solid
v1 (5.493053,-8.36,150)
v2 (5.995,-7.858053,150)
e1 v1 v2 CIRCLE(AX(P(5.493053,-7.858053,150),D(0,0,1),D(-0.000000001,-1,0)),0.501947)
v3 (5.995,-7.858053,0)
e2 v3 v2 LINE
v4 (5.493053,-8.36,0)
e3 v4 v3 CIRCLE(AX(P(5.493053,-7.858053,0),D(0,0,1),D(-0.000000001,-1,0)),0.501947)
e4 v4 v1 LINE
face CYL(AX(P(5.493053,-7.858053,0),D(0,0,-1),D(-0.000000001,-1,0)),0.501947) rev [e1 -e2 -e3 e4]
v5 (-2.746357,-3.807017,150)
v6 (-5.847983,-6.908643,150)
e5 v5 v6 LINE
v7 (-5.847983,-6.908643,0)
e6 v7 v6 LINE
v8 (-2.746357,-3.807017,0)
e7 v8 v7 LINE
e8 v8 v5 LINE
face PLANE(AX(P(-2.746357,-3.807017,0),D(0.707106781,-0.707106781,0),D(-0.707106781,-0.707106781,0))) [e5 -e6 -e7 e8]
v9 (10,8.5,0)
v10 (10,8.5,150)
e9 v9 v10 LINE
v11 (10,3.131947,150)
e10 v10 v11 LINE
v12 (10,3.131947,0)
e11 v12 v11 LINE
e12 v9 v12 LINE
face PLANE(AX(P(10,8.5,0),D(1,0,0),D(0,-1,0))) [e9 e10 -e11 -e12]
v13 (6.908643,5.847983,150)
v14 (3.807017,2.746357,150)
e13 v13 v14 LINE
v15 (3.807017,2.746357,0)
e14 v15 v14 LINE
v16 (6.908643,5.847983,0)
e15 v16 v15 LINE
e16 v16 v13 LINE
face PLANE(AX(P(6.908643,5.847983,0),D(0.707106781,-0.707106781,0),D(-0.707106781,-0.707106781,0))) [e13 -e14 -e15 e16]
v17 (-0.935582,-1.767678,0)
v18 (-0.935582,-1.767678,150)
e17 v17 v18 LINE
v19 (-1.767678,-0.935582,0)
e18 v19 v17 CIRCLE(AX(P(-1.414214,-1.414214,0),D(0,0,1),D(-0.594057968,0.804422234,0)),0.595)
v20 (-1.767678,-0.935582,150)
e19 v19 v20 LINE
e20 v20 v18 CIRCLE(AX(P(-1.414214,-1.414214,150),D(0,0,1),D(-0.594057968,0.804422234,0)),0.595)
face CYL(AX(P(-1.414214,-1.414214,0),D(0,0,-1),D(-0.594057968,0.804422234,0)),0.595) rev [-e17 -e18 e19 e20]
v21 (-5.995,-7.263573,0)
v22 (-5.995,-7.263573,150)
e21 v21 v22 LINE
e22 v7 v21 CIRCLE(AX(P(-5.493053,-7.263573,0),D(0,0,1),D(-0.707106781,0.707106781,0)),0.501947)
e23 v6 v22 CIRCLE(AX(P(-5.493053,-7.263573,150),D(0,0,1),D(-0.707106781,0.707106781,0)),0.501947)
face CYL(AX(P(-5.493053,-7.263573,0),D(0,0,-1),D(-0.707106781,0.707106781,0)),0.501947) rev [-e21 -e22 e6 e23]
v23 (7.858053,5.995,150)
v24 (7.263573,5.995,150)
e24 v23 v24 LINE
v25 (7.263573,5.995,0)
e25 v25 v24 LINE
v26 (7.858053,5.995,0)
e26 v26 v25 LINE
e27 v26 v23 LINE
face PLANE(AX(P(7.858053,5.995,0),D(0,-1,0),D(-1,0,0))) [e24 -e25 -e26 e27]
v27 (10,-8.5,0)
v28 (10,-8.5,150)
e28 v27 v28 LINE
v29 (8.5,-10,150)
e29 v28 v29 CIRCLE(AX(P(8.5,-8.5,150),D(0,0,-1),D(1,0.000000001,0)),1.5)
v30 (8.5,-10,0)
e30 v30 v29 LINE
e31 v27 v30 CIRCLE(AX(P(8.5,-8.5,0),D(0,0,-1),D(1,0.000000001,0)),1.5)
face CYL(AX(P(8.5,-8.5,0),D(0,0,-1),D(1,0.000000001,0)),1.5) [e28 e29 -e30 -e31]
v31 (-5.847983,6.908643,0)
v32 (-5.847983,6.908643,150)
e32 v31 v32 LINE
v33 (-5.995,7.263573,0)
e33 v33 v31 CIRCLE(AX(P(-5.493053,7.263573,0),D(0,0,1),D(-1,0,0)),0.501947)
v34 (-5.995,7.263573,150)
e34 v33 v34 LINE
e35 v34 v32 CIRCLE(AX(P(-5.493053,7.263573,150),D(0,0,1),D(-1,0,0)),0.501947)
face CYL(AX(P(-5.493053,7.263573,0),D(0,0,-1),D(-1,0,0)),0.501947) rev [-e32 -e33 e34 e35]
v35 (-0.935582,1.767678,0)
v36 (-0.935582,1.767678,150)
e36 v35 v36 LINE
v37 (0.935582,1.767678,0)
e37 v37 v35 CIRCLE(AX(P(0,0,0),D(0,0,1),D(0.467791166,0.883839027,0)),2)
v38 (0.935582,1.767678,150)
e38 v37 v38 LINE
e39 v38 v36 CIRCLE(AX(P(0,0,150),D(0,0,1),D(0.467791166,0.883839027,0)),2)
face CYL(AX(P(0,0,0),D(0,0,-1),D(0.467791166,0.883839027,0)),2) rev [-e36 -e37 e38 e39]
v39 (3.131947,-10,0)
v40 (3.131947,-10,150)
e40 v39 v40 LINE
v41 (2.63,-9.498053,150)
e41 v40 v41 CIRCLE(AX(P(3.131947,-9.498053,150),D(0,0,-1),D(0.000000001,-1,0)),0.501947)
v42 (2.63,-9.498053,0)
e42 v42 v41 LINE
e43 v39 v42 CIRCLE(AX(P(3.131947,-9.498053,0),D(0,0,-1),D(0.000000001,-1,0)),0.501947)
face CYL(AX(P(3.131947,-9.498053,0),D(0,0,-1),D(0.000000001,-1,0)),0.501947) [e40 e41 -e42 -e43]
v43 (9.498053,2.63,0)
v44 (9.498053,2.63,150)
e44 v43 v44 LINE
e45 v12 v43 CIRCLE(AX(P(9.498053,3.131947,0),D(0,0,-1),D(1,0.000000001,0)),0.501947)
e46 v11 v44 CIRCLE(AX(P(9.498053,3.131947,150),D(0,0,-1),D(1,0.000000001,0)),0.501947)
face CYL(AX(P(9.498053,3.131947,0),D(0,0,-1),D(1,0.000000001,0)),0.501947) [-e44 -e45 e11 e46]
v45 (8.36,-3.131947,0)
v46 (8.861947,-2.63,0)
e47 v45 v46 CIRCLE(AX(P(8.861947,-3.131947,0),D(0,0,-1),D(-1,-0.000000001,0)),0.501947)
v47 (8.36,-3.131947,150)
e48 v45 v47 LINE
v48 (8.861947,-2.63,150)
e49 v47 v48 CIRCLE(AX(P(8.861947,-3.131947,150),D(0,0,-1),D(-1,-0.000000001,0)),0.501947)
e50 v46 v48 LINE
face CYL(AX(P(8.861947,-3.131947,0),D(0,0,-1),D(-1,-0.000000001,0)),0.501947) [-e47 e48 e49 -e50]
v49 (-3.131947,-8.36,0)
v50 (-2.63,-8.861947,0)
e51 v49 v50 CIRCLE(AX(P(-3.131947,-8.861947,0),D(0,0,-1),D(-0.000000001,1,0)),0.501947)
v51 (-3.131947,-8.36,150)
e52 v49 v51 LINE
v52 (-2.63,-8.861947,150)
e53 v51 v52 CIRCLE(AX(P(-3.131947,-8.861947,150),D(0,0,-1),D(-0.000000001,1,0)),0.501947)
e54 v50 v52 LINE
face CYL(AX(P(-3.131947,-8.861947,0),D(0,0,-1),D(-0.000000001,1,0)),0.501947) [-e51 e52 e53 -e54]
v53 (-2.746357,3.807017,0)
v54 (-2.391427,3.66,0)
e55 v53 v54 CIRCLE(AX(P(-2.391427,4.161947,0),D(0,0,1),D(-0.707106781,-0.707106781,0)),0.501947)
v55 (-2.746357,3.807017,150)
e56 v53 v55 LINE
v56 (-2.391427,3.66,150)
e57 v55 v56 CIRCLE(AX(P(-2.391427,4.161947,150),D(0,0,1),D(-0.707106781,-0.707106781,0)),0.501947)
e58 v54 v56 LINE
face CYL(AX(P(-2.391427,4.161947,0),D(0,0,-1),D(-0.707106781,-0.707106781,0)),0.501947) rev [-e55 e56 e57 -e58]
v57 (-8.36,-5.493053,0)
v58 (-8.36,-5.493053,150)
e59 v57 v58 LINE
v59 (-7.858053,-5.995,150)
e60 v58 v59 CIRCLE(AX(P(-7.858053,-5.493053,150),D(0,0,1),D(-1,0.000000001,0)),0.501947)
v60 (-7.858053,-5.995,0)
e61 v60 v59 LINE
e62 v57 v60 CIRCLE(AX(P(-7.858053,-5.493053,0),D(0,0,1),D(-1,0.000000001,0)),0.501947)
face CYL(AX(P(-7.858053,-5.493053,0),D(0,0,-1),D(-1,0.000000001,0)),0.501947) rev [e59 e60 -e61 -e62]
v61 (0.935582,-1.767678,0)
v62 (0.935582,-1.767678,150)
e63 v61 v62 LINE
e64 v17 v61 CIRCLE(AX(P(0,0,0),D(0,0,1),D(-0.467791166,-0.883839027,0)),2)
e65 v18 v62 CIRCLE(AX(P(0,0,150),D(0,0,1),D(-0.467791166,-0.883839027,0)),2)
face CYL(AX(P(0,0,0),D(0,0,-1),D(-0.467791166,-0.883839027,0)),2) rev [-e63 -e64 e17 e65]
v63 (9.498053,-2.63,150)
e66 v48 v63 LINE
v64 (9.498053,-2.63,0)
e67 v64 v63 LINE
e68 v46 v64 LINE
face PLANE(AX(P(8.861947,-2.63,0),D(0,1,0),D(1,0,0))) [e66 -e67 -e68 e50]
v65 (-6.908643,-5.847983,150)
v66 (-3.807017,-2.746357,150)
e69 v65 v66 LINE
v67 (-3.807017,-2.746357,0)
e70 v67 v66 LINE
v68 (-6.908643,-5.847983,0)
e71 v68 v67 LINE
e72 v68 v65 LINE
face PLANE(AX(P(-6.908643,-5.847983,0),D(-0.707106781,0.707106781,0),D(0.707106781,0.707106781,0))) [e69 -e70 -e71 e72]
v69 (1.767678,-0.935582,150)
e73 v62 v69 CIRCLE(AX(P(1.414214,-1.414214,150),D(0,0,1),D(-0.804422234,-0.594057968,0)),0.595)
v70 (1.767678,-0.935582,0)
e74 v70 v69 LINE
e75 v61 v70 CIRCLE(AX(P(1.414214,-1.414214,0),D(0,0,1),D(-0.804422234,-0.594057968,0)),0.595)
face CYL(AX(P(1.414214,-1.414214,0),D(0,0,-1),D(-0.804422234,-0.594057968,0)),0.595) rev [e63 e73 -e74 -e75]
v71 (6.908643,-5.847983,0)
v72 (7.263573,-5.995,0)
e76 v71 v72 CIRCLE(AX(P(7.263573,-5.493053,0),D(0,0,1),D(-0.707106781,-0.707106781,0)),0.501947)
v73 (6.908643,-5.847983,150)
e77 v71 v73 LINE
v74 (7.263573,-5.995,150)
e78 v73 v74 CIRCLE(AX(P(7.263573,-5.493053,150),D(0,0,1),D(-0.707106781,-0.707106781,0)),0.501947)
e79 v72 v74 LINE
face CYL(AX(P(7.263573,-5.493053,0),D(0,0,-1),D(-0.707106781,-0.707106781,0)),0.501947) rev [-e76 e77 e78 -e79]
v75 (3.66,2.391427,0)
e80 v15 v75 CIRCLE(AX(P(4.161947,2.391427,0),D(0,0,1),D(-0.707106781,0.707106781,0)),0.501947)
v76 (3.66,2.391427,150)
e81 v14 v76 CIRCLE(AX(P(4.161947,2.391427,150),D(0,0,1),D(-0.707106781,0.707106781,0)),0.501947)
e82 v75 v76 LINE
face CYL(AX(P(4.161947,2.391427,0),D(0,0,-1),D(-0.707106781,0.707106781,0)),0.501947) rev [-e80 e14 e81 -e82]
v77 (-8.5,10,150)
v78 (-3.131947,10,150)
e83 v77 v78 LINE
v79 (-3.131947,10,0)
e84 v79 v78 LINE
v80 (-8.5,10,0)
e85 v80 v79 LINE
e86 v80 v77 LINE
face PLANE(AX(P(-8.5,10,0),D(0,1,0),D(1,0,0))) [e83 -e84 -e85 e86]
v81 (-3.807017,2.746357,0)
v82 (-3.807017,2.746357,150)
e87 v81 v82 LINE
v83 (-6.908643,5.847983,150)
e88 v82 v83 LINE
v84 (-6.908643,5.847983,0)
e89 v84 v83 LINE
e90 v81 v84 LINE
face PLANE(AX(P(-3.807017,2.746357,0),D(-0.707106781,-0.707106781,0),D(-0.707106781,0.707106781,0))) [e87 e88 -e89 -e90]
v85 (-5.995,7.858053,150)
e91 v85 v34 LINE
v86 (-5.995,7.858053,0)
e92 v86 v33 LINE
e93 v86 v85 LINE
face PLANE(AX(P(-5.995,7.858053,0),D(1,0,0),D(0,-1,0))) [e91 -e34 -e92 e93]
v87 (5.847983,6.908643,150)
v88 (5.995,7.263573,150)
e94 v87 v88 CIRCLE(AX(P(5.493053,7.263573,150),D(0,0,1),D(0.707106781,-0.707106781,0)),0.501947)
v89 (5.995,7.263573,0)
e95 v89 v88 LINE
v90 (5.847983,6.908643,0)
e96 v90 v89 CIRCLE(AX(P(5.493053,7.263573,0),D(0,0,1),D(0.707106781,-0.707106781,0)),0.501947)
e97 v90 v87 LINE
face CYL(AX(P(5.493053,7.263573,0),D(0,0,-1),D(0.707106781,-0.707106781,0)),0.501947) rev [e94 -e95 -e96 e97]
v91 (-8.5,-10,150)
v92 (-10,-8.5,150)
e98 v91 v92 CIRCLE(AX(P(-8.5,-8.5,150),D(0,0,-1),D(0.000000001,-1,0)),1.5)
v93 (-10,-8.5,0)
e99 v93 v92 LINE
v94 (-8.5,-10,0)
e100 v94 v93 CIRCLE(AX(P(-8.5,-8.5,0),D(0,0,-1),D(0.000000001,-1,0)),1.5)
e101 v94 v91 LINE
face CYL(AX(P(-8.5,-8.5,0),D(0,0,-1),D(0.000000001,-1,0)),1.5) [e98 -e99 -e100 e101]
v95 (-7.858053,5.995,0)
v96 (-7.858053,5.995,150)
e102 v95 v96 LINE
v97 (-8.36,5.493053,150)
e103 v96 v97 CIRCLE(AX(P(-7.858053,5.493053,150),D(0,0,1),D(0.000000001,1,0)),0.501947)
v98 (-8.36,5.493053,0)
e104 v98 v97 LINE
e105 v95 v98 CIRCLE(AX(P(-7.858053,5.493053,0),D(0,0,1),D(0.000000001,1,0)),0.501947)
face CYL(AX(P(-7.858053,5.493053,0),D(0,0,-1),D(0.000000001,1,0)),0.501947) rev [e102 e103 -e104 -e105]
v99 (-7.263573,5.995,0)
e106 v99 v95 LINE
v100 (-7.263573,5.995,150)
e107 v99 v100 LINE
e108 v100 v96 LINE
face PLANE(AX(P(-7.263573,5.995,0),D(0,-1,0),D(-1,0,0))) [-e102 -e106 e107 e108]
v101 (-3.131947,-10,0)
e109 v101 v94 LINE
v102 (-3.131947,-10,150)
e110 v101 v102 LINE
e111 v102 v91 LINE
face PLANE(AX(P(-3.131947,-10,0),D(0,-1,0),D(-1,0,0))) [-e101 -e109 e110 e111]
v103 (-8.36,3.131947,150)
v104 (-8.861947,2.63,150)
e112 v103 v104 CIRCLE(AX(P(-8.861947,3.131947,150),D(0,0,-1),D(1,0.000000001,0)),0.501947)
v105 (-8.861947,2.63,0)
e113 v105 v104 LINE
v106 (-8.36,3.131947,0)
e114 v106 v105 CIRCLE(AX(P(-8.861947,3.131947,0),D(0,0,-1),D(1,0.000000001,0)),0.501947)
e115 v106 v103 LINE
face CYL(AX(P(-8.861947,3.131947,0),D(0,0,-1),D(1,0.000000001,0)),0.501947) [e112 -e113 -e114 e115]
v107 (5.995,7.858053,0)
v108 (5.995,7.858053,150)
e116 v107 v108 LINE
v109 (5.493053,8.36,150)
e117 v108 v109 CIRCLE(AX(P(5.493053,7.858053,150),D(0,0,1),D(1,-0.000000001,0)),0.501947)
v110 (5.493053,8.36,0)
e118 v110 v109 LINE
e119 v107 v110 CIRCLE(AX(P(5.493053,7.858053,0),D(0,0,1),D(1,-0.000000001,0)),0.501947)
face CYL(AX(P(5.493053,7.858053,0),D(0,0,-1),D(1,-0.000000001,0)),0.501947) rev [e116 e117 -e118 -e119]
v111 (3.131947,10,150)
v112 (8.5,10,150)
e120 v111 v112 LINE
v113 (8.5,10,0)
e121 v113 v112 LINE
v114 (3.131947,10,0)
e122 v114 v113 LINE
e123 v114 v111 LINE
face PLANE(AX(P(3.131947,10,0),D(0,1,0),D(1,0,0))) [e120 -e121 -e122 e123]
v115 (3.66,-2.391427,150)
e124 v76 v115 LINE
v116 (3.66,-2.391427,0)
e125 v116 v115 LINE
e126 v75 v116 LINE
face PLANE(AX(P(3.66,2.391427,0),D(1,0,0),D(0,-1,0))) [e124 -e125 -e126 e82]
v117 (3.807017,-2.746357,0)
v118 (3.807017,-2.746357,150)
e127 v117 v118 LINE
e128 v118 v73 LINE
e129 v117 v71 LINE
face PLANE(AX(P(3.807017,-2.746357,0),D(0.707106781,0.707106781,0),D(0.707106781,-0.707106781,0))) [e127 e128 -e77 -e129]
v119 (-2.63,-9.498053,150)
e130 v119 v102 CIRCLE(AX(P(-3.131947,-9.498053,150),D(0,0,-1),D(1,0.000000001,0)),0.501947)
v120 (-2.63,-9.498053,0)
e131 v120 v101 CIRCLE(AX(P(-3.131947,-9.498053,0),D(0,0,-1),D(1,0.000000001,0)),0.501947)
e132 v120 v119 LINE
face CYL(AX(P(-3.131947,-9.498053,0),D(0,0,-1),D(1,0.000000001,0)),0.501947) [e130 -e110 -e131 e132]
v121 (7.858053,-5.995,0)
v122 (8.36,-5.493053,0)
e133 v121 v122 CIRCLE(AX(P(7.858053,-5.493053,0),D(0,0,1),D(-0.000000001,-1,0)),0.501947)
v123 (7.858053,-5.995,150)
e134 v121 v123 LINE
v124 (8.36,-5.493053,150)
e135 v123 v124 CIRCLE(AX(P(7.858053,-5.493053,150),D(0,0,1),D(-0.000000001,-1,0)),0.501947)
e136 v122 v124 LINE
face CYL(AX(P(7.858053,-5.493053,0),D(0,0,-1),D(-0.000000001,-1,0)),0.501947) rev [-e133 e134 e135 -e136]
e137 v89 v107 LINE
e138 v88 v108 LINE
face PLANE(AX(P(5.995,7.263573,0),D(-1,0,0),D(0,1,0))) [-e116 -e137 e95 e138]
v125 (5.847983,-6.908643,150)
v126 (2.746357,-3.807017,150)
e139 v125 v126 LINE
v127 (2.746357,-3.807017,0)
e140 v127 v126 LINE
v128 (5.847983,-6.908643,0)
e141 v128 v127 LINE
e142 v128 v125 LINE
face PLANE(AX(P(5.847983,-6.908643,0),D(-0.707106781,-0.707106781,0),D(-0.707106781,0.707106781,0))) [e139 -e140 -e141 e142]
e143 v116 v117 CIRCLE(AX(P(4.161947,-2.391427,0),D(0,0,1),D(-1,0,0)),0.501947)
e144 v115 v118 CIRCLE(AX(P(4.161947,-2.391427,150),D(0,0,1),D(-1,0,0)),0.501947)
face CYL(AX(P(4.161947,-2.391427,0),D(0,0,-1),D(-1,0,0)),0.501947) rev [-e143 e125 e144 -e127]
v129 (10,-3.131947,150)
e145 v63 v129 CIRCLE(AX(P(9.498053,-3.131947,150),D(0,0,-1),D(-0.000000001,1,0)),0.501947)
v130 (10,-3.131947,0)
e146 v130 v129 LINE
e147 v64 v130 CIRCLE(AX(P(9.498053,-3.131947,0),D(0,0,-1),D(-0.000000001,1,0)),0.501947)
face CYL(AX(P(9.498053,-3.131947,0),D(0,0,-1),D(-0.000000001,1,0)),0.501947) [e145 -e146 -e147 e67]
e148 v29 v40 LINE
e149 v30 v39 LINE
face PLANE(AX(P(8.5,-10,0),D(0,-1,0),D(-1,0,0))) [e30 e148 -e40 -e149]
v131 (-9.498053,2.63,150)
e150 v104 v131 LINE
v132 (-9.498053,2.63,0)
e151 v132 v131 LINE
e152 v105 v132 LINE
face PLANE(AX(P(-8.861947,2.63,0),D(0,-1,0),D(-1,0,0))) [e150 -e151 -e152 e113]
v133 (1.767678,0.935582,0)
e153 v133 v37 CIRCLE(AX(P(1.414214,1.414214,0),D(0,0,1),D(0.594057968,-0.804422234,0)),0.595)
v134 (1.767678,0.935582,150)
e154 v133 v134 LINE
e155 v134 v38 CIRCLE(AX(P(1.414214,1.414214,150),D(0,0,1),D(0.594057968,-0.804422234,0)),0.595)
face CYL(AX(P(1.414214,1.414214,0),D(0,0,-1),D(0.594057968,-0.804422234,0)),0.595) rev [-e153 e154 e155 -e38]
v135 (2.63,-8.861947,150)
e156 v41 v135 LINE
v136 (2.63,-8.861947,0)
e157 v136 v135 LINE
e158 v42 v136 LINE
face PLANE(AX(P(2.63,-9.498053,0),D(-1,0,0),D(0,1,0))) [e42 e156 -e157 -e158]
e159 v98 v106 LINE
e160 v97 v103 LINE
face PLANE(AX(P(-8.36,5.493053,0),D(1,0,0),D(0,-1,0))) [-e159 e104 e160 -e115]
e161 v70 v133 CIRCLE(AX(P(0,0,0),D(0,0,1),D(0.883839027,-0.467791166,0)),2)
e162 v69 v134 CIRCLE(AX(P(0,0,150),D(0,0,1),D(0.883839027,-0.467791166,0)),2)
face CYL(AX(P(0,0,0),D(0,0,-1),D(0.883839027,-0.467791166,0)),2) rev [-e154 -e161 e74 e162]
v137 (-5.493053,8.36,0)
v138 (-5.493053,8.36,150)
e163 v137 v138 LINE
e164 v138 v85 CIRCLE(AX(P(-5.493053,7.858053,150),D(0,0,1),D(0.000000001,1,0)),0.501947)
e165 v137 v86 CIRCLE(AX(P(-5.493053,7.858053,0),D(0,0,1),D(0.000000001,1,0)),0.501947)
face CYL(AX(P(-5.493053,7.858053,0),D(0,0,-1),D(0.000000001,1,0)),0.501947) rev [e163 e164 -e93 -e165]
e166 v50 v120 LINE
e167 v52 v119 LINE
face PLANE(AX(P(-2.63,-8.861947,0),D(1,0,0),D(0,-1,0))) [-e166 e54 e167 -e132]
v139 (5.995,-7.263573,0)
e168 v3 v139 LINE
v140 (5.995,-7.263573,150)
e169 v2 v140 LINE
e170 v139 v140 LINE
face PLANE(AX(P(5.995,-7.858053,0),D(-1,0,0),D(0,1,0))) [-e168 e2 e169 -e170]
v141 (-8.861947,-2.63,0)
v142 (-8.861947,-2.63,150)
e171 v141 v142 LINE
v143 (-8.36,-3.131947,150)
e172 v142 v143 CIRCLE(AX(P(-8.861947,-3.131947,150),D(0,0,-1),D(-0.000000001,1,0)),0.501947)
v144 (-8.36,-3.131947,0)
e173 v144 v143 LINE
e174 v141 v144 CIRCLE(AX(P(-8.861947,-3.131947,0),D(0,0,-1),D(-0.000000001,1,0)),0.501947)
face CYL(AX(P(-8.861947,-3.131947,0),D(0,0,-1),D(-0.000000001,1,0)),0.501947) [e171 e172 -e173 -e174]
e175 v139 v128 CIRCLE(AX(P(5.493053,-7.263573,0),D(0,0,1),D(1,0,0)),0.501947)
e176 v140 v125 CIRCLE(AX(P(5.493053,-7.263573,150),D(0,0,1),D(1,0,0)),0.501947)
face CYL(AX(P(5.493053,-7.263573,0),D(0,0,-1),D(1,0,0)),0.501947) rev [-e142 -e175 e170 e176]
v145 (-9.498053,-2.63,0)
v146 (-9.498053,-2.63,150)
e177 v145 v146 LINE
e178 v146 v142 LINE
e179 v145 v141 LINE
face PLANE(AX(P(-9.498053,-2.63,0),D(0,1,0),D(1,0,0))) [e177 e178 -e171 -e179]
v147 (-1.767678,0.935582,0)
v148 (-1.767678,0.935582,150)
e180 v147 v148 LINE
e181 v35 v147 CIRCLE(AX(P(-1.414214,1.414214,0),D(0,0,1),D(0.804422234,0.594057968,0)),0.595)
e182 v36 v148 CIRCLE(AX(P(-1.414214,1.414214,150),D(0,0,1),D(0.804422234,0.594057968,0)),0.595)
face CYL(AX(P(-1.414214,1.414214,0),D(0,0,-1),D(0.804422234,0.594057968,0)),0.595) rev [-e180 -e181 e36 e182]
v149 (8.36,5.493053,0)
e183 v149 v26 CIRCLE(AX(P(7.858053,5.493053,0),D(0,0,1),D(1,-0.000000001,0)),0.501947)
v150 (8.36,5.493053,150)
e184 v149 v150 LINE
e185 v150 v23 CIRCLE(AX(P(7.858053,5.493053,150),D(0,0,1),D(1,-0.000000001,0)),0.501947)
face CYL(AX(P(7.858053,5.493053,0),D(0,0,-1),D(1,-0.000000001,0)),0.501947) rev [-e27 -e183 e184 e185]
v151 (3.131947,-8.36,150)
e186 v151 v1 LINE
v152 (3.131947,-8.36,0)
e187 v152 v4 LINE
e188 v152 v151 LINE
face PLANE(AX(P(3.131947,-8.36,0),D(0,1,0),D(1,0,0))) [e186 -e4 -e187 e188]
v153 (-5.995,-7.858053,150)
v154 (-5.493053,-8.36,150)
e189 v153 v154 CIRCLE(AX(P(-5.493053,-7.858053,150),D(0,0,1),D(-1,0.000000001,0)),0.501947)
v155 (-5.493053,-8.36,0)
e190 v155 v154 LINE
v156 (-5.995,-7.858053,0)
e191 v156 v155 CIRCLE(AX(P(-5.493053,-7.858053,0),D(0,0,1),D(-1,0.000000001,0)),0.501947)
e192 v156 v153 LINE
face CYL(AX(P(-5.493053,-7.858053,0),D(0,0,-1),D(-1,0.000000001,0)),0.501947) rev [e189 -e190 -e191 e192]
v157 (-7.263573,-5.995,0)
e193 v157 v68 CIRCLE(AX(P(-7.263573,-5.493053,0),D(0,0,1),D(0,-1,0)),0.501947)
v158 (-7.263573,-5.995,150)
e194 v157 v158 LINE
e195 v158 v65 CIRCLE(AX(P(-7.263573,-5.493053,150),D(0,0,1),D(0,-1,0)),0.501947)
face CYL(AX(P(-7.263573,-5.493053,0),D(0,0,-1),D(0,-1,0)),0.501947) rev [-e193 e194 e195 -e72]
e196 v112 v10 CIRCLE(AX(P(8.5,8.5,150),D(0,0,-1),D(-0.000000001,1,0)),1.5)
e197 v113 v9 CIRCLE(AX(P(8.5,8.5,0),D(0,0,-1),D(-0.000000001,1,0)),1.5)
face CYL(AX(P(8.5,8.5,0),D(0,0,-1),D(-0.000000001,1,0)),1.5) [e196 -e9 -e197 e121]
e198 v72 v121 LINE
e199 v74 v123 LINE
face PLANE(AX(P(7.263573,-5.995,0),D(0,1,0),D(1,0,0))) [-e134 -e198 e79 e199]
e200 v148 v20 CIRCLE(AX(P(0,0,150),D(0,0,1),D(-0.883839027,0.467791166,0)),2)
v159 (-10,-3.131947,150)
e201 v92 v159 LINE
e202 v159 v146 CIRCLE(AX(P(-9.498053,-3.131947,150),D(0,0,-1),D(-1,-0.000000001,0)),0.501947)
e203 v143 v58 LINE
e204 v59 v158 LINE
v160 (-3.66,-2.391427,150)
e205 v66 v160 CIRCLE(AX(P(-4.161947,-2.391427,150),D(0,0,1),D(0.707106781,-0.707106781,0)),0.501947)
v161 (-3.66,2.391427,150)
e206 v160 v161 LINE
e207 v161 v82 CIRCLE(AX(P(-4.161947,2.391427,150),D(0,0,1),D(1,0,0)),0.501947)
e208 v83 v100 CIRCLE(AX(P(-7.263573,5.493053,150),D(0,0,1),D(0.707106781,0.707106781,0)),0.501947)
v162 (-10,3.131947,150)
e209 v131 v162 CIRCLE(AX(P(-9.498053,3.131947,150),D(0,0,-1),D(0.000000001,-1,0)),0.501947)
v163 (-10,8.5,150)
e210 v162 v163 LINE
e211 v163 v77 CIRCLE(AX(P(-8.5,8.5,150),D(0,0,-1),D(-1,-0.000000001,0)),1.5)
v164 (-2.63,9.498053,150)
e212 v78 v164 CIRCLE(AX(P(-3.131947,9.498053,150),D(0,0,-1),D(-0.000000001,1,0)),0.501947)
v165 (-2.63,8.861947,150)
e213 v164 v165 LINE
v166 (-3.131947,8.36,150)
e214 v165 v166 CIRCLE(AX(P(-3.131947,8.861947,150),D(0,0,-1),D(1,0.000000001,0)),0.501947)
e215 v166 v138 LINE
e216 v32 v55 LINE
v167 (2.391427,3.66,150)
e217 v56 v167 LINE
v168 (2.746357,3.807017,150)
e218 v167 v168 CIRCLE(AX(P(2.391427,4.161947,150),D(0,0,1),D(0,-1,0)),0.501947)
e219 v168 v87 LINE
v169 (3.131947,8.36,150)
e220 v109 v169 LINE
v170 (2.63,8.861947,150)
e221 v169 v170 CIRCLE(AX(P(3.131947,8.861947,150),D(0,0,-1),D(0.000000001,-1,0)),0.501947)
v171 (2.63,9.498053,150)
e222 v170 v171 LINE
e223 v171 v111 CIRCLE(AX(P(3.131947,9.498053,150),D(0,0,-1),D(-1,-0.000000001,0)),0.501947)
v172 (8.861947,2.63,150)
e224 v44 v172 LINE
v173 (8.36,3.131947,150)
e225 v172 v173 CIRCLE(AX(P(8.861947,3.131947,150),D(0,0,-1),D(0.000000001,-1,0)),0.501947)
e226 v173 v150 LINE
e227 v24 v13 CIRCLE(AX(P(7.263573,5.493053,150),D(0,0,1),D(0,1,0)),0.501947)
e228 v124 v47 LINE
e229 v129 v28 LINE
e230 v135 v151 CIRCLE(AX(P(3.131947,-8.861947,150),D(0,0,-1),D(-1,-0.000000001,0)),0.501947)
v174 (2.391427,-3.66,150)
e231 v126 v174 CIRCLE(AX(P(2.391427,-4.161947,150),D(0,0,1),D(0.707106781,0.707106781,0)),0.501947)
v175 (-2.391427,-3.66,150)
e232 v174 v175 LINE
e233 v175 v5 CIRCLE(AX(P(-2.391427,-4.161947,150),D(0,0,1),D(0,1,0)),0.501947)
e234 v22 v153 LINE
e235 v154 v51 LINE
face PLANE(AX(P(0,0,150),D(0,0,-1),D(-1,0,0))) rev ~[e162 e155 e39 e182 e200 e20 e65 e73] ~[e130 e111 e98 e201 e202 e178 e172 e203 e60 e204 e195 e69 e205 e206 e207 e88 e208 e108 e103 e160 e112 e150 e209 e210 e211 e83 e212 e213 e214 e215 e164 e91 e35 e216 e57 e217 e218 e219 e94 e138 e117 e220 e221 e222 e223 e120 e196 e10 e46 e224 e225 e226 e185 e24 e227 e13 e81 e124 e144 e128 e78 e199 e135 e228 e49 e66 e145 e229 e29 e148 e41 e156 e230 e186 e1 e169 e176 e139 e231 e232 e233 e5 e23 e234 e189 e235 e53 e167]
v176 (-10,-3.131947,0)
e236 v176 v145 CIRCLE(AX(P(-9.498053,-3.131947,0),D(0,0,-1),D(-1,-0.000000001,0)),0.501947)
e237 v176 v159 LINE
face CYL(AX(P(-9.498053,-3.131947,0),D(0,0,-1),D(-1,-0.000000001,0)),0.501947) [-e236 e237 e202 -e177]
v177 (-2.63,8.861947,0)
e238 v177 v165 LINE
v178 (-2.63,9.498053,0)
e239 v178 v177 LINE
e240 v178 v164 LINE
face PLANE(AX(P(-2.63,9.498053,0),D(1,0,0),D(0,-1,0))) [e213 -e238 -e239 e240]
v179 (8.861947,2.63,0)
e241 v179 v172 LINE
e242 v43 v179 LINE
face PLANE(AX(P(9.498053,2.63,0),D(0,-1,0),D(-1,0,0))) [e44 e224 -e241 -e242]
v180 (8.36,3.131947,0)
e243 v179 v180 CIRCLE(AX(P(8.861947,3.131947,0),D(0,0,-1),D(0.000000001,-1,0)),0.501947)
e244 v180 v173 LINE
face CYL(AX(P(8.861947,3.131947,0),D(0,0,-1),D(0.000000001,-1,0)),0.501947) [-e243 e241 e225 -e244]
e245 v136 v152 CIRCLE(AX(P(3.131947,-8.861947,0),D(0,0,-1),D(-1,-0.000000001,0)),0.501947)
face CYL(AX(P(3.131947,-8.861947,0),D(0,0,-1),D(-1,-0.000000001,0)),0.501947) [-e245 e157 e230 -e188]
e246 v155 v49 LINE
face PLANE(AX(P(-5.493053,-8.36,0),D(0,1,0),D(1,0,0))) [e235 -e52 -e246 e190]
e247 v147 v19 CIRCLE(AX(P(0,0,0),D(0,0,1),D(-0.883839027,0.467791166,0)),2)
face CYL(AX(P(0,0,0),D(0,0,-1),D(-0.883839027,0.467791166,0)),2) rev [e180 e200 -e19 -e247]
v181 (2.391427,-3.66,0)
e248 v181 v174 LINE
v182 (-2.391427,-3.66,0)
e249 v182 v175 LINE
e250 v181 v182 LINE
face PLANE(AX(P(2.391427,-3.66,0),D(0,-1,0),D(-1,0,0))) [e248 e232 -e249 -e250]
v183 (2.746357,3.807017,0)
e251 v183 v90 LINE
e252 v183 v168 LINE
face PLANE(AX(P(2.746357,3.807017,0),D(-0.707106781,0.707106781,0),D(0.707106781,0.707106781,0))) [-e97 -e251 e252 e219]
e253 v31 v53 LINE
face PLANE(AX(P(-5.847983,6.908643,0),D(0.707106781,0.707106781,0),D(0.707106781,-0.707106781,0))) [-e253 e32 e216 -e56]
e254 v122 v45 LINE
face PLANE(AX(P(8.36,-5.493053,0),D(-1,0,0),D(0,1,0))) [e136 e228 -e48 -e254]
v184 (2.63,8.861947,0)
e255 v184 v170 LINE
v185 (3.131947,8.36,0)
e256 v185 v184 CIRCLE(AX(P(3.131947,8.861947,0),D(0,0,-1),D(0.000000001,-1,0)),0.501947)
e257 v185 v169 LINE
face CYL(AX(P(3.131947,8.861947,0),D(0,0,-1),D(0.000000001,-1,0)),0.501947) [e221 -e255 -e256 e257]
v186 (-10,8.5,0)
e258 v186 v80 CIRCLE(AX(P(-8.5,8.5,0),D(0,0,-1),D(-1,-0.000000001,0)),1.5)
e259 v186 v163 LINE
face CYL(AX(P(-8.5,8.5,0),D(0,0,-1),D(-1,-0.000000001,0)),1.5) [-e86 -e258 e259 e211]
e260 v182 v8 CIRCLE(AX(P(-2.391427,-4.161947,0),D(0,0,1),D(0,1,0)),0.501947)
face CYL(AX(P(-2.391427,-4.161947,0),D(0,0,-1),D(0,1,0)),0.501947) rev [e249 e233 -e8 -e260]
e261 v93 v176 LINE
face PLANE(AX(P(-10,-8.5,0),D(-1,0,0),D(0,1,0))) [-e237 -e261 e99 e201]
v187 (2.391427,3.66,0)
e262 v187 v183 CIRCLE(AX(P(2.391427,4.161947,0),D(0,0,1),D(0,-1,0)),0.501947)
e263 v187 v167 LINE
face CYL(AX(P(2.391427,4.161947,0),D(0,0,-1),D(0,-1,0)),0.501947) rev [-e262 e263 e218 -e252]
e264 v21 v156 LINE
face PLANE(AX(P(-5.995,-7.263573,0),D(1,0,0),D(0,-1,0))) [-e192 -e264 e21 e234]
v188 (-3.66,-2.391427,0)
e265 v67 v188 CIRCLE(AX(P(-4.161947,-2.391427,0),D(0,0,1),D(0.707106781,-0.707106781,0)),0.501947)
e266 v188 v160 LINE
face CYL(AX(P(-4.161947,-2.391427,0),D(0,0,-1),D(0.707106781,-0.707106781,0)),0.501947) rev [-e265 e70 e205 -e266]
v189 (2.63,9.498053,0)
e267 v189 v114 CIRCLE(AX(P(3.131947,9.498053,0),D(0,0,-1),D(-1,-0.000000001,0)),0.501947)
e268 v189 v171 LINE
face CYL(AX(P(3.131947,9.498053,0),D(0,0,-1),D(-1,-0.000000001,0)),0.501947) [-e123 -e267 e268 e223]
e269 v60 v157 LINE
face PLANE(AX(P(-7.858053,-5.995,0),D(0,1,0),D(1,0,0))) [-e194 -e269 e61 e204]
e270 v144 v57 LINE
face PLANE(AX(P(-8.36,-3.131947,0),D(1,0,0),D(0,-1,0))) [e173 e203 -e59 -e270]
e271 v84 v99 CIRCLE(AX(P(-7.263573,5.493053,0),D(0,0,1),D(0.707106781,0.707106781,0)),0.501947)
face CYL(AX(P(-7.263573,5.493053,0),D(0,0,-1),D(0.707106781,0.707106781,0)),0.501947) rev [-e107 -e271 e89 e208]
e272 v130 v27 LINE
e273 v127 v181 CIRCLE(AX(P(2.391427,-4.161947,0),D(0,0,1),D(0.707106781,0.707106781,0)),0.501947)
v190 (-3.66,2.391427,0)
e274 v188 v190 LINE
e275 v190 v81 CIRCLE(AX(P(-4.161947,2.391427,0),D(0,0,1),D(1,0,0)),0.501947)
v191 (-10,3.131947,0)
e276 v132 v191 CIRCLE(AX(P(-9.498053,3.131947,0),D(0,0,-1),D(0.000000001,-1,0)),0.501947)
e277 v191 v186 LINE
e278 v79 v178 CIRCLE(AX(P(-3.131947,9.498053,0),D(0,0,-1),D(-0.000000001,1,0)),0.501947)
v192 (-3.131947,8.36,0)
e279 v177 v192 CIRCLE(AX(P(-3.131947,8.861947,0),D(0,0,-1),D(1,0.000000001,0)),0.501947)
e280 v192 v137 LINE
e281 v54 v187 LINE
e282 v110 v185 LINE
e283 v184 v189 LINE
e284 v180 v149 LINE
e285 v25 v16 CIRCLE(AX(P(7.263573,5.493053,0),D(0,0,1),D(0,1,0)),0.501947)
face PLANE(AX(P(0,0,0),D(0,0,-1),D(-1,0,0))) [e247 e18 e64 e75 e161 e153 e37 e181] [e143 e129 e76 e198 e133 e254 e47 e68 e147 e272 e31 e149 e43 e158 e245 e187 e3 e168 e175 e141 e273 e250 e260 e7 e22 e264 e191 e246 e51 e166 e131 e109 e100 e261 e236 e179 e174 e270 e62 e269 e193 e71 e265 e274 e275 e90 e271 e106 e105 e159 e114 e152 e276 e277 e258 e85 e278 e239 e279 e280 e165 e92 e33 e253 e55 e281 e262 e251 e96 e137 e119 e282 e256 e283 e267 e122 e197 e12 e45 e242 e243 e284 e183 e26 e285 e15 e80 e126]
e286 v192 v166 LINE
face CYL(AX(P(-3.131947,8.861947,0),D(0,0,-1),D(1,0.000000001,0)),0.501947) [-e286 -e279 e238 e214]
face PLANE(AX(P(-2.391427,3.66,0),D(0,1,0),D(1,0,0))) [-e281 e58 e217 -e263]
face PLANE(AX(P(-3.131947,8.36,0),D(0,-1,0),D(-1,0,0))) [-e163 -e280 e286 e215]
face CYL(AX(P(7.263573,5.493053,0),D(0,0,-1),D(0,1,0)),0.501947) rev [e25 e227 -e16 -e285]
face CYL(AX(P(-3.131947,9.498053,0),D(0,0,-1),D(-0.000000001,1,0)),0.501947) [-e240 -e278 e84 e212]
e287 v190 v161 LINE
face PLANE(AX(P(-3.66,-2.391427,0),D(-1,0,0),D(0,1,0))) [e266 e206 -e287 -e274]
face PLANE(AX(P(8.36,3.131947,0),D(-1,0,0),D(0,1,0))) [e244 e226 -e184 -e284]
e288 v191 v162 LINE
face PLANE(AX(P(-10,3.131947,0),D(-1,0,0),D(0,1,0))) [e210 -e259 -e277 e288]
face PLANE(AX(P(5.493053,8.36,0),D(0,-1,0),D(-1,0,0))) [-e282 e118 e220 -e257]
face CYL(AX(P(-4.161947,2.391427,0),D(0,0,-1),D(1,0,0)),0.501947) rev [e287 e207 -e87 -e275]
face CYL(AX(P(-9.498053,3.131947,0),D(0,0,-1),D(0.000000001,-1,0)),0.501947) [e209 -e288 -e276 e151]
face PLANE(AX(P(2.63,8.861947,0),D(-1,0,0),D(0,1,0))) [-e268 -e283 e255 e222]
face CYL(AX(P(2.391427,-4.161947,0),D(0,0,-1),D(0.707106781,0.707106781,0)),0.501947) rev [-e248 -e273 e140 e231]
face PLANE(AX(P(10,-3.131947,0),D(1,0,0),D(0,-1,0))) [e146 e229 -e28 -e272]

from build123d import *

# Parameters (mm, degrees)
BOSS_EXTRUDE1_DEPTH = 150


with BuildPart() as part:
    # Sketch1 → Boss-Extrude1 (new body)
    with BuildSketch(Plane.XY):
        with BuildLine():
            Line((-2.746356642, -3.807016814), (-5.847983186, -6.908643358))
            ThreePointArc((-5.847983186, -6.908643358), (-5.956791575, -7.07148662), (-5.995, -7.263573344))
            Line((-5.995, -7.263573344), (-5.995, -7.858053199))
            ThreePointArc((-5.995, -7.858053199), (-5.847983186, -8.212983186), (-5.493053199, -8.36))
            Line((-5.493053199, -8.36), (-3.131946801, -8.36))
            ThreePointArc((-3.131946801, -8.36), (-2.777016814, -8.507016814), (-2.63, -8.861946801))
            Line((-2.63, -8.861946801), (-2.63, -9.498053199))
            ThreePointArc((-2.63, -9.498053199), (-2.777016814, -9.852983186), (-3.131946801, -10))
            Line((-3.131946801, -10), (-8.5, -10))
            ThreePointArc((-8.5, -10), (-9.560660172, -9.560660172), (-10, -8.5))
            Line((-10, -8.5), (-10, -3.131946801))
            ThreePointArc((-10, -3.131946801), (-9.852983186, -2.777016814), (-9.498053199, -2.63))
            Line((-9.498053199, -2.63), (-8.861946801, -2.63))
            ThreePointArc((-8.861946801, -2.63), (-8.507016814, -2.777016814), (-8.36, -3.131946801))
            Line((-8.36, -3.131946801), (-8.36, -5.493053199))
            ThreePointArc((-8.36, -5.493053199), (-8.212983186, -5.847983186), (-7.858053199, -5.995))
            Line((-7.858053199, -5.995), (-7.263573344, -5.995))
            ThreePointArc((-7.263573344, -5.995), (-7.07148662, -5.956791575), (-6.908643358, -5.847983186))
            Line((-6.908643358, -5.847983186), (-3.807016814, -2.746356642))
            ThreePointArc((-3.807016814, -2.746356642), (-3.698208425, -2.58351338), (-3.66, -2.391426656))
            Line((-3.66, -2.391426656), (-3.66, 2.391426656))
            ThreePointArc((-3.66, 2.391426656), (-3.698208425, 2.58351338), (-3.807016814, 2.746356642))
            Line((-3.807016814, 2.746356642), (-6.908643358, 5.847983186))
            ThreePointArc((-6.908643358, 5.847983186), (-7.07148662, 5.956791575), (-7.263573344, 5.995))
            Line((-7.263573344, 5.995), (-7.858053199, 5.995))
            ThreePointArc((-7.858053199, 5.995), (-8.212983186, 5.847983186), (-8.36, 5.493053199))
            Line((-8.36, 5.493053199), (-8.36, 3.131946801))
            ThreePointArc((-8.36, 3.131946801), (-8.507016814, 2.777016814), (-8.861946801, 2.63))
            Line((-8.861946801, 2.63), (-9.498053199, 2.63))
            ThreePointArc((-9.498053199, 2.63), (-9.852983186, 2.777016814), (-10, 3.131946801))
            Line((-10, 3.131946801), (-10, 8.5))
            ThreePointArc((-10, 8.5), (-9.560660172, 9.560660172), (-8.5, 10))
            Line((-8.5, 10), (-3.131946801, 10))
            ThreePointArc((-3.131946801, 10), (-2.777016814, 9.852983186), (-2.63, 9.498053199))
            Line((-2.63, 9.498053199), (-2.63, 8.861946801))
            ThreePointArc((-2.63, 8.861946801), (-2.777016814, 8.507016814), (-3.131946801, 8.36))
            Line((-3.131946801, 8.36), (-5.493053199, 8.36))
            ThreePointArc((-5.493053199, 8.36), (-5.847983186, 8.212983186), (-5.995, 7.858053199))
            Line((-5.995, 7.858053199), (-5.995, 7.263573344))
            ThreePointArc((-5.995, 7.263573344), (-5.956791575, 7.07148662), (-5.847983186, 6.908643358))
            Line((-5.847983186, 6.908643358), (-2.746356642, 3.807016814))
            ThreePointArc((-2.746356642, 3.807016814), (-2.58351338, 3.698208425), (-2.391426656, 3.66))
            Line((-2.391426656, 3.66), (2.391426656, 3.66))
            ThreePointArc((2.391426656, 3.66), (2.58351338, 3.698208425), (2.746356642, 3.807016814))
            Line((2.746356642, 3.807016814), (5.847983186, 6.908643358))
            ThreePointArc((5.847983186, 6.908643358), (5.956791575, 7.07148662), (5.995, 7.263573344))
            Line((5.995, 7.263573344), (5.995, 7.858053199))
            ThreePointArc((5.995, 7.858053199), (5.847983186, 8.212983186), (5.493053199, 8.36))
            Line((5.493053199, 8.36), (3.131946801, 8.36))
            ThreePointArc((3.131946801, 8.36), (2.777016814, 8.507016814), (2.63, 8.861946801))
            Line((2.63, 8.861946801), (2.63, 9.498053199))
            ThreePointArc((2.63, 9.498053199), (2.777016814, 9.852983186), (3.131946801, 10))
            Line((3.131946801, 10), (8.5, 10))
            ThreePointArc((8.5, 10), (9.560660172, 9.560660172), (10, 8.5))
            Line((10, 8.5), (10, 3.131946801))
            ThreePointArc((10, 3.131946801), (9.852983186, 2.777016814), (9.498053199, 2.63))
            Line((9.498053199, 2.63), (8.861946801, 2.63))
            ThreePointArc((8.861946801, 2.63), (8.507016814, 2.777016814), (8.36, 3.131946801))
            Line((8.36, 3.131946801), (8.36, 5.493053199))
            ThreePointArc((8.36, 5.493053199), (8.212983186, 5.847983186), (7.858053199, 5.995))
            Line((7.858053199, 5.995), (7.263573344, 5.995))
            ThreePointArc((7.263573344, 5.995), (7.07148662, 5.956791575), (6.908643358, 5.847983186))
            Line((6.908643358, 5.847983186), (3.807016814, 2.746356642))
            ThreePointArc((3.807016814, 2.746356642), (3.698208425, 2.58351338), (3.66, 2.391426656))
            Line((3.66, 2.391426656), (3.66, -2.391426656))
            ThreePointArc((3.66, -2.391426656), (3.698208425, -2.58351338), (3.807016814, -2.746356642))
            Line((3.807016814, -2.746356642), (6.908643358, -5.847983186))
            ThreePointArc((6.908643358, -5.847983186), (7.07148662, -5.956791575), (7.263573344, -5.995))
            Line((7.263573344, -5.995), (7.858053199, -5.995))
            ThreePointArc((7.858053199, -5.995), (8.212983186, -5.847983186), (8.36, -5.493053199))
            Line((8.36, -5.493053199), (8.36, -3.131946801))
            ThreePointArc((8.36, -3.131946801), (8.507016814, -2.777016814), (8.861946801, -2.63))
            Line((8.861946801, -2.63), (9.498053199, -2.63))
            ThreePointArc((9.498053199, -2.63), (9.852983186, -2.777016814), (10, -3.131946801))
            Line((10, -3.131946801), (10, -8.5))
            ThreePointArc((10, -8.5), (9.560660172, -9.560660172), (8.5, -10))
            Line((8.5, -10), (3.131946801, -10))
            ThreePointArc((3.131946801, -10), (2.777016814, -9.852983186), (2.63, -9.498053199))
            Line((2.63, -9.498053199), (2.63, -8.861946801))
            ThreePointArc((2.63, -8.861946801), (2.777016814, -8.507016814), (3.131946801, -8.36))
            Line((3.131946801, -8.36), (5.493053199, -8.36))
            ThreePointArc((5.493053199, -8.36), (5.847983186, -8.212983186), (5.995, -7.858053199))
            Line((5.995, -7.858053199), (5.995, -7.263573344))
            ThreePointArc((5.995, -7.263573344), (5.956791575, -7.07148662), (5.847983186, -6.908643358))
            Line((5.847983186, -6.908643358), (2.746356642, -3.807016814))
            ThreePointArc((2.746356642, -3.807016814), (2.58351338, -3.698208425), (2.391426656, -3.66))
            Line((2.391426656, -3.66), (-2.391426656, -3.66))
            ThreePointArc((-2.391426656, -3.66), (-2.58351338, -3.698208425), (-2.746356642, -3.807016814))
        make_face()
        with BuildLine():
            ThreePointArc((-1.767678053, 0.935582333), (-2, 0), (-1.767678053, -0.935582333))
            ThreePointArc((-1.767678053, -0.935582333), (-1.834942097, -1.834942097), (-0.935582333, -1.767678053))
            ThreePointArc((-0.935582333, -1.767678053), (0, -2), (0.935582333, -1.767678053))
            ThreePointArc((0.935582333, -1.767678053), (1.834942097, -1.834942097), (1.767678053, -0.935582333))
            ThreePointArc((1.767678053, -0.935582333), (2, 0), (1.767678053, 0.935582333))
            ThreePointArc((1.767678053, 0.935582333), (1.834942097, 1.834942097), (0.935582333, 1.767678053))
            ThreePointArc((0.935582333, 1.767678053), (0, 2), (-0.935582333, 1.767678053))
            ThreePointArc((-0.935582333, 1.767678053), (-1.834942097, 1.834942097), (-1.767678053, 0.935582333))
        make_face(mode=Mode.SUBTRACT)
    extrude(amount=BOSS_EXTRUDE1_DEPTH)


solid = part.part
